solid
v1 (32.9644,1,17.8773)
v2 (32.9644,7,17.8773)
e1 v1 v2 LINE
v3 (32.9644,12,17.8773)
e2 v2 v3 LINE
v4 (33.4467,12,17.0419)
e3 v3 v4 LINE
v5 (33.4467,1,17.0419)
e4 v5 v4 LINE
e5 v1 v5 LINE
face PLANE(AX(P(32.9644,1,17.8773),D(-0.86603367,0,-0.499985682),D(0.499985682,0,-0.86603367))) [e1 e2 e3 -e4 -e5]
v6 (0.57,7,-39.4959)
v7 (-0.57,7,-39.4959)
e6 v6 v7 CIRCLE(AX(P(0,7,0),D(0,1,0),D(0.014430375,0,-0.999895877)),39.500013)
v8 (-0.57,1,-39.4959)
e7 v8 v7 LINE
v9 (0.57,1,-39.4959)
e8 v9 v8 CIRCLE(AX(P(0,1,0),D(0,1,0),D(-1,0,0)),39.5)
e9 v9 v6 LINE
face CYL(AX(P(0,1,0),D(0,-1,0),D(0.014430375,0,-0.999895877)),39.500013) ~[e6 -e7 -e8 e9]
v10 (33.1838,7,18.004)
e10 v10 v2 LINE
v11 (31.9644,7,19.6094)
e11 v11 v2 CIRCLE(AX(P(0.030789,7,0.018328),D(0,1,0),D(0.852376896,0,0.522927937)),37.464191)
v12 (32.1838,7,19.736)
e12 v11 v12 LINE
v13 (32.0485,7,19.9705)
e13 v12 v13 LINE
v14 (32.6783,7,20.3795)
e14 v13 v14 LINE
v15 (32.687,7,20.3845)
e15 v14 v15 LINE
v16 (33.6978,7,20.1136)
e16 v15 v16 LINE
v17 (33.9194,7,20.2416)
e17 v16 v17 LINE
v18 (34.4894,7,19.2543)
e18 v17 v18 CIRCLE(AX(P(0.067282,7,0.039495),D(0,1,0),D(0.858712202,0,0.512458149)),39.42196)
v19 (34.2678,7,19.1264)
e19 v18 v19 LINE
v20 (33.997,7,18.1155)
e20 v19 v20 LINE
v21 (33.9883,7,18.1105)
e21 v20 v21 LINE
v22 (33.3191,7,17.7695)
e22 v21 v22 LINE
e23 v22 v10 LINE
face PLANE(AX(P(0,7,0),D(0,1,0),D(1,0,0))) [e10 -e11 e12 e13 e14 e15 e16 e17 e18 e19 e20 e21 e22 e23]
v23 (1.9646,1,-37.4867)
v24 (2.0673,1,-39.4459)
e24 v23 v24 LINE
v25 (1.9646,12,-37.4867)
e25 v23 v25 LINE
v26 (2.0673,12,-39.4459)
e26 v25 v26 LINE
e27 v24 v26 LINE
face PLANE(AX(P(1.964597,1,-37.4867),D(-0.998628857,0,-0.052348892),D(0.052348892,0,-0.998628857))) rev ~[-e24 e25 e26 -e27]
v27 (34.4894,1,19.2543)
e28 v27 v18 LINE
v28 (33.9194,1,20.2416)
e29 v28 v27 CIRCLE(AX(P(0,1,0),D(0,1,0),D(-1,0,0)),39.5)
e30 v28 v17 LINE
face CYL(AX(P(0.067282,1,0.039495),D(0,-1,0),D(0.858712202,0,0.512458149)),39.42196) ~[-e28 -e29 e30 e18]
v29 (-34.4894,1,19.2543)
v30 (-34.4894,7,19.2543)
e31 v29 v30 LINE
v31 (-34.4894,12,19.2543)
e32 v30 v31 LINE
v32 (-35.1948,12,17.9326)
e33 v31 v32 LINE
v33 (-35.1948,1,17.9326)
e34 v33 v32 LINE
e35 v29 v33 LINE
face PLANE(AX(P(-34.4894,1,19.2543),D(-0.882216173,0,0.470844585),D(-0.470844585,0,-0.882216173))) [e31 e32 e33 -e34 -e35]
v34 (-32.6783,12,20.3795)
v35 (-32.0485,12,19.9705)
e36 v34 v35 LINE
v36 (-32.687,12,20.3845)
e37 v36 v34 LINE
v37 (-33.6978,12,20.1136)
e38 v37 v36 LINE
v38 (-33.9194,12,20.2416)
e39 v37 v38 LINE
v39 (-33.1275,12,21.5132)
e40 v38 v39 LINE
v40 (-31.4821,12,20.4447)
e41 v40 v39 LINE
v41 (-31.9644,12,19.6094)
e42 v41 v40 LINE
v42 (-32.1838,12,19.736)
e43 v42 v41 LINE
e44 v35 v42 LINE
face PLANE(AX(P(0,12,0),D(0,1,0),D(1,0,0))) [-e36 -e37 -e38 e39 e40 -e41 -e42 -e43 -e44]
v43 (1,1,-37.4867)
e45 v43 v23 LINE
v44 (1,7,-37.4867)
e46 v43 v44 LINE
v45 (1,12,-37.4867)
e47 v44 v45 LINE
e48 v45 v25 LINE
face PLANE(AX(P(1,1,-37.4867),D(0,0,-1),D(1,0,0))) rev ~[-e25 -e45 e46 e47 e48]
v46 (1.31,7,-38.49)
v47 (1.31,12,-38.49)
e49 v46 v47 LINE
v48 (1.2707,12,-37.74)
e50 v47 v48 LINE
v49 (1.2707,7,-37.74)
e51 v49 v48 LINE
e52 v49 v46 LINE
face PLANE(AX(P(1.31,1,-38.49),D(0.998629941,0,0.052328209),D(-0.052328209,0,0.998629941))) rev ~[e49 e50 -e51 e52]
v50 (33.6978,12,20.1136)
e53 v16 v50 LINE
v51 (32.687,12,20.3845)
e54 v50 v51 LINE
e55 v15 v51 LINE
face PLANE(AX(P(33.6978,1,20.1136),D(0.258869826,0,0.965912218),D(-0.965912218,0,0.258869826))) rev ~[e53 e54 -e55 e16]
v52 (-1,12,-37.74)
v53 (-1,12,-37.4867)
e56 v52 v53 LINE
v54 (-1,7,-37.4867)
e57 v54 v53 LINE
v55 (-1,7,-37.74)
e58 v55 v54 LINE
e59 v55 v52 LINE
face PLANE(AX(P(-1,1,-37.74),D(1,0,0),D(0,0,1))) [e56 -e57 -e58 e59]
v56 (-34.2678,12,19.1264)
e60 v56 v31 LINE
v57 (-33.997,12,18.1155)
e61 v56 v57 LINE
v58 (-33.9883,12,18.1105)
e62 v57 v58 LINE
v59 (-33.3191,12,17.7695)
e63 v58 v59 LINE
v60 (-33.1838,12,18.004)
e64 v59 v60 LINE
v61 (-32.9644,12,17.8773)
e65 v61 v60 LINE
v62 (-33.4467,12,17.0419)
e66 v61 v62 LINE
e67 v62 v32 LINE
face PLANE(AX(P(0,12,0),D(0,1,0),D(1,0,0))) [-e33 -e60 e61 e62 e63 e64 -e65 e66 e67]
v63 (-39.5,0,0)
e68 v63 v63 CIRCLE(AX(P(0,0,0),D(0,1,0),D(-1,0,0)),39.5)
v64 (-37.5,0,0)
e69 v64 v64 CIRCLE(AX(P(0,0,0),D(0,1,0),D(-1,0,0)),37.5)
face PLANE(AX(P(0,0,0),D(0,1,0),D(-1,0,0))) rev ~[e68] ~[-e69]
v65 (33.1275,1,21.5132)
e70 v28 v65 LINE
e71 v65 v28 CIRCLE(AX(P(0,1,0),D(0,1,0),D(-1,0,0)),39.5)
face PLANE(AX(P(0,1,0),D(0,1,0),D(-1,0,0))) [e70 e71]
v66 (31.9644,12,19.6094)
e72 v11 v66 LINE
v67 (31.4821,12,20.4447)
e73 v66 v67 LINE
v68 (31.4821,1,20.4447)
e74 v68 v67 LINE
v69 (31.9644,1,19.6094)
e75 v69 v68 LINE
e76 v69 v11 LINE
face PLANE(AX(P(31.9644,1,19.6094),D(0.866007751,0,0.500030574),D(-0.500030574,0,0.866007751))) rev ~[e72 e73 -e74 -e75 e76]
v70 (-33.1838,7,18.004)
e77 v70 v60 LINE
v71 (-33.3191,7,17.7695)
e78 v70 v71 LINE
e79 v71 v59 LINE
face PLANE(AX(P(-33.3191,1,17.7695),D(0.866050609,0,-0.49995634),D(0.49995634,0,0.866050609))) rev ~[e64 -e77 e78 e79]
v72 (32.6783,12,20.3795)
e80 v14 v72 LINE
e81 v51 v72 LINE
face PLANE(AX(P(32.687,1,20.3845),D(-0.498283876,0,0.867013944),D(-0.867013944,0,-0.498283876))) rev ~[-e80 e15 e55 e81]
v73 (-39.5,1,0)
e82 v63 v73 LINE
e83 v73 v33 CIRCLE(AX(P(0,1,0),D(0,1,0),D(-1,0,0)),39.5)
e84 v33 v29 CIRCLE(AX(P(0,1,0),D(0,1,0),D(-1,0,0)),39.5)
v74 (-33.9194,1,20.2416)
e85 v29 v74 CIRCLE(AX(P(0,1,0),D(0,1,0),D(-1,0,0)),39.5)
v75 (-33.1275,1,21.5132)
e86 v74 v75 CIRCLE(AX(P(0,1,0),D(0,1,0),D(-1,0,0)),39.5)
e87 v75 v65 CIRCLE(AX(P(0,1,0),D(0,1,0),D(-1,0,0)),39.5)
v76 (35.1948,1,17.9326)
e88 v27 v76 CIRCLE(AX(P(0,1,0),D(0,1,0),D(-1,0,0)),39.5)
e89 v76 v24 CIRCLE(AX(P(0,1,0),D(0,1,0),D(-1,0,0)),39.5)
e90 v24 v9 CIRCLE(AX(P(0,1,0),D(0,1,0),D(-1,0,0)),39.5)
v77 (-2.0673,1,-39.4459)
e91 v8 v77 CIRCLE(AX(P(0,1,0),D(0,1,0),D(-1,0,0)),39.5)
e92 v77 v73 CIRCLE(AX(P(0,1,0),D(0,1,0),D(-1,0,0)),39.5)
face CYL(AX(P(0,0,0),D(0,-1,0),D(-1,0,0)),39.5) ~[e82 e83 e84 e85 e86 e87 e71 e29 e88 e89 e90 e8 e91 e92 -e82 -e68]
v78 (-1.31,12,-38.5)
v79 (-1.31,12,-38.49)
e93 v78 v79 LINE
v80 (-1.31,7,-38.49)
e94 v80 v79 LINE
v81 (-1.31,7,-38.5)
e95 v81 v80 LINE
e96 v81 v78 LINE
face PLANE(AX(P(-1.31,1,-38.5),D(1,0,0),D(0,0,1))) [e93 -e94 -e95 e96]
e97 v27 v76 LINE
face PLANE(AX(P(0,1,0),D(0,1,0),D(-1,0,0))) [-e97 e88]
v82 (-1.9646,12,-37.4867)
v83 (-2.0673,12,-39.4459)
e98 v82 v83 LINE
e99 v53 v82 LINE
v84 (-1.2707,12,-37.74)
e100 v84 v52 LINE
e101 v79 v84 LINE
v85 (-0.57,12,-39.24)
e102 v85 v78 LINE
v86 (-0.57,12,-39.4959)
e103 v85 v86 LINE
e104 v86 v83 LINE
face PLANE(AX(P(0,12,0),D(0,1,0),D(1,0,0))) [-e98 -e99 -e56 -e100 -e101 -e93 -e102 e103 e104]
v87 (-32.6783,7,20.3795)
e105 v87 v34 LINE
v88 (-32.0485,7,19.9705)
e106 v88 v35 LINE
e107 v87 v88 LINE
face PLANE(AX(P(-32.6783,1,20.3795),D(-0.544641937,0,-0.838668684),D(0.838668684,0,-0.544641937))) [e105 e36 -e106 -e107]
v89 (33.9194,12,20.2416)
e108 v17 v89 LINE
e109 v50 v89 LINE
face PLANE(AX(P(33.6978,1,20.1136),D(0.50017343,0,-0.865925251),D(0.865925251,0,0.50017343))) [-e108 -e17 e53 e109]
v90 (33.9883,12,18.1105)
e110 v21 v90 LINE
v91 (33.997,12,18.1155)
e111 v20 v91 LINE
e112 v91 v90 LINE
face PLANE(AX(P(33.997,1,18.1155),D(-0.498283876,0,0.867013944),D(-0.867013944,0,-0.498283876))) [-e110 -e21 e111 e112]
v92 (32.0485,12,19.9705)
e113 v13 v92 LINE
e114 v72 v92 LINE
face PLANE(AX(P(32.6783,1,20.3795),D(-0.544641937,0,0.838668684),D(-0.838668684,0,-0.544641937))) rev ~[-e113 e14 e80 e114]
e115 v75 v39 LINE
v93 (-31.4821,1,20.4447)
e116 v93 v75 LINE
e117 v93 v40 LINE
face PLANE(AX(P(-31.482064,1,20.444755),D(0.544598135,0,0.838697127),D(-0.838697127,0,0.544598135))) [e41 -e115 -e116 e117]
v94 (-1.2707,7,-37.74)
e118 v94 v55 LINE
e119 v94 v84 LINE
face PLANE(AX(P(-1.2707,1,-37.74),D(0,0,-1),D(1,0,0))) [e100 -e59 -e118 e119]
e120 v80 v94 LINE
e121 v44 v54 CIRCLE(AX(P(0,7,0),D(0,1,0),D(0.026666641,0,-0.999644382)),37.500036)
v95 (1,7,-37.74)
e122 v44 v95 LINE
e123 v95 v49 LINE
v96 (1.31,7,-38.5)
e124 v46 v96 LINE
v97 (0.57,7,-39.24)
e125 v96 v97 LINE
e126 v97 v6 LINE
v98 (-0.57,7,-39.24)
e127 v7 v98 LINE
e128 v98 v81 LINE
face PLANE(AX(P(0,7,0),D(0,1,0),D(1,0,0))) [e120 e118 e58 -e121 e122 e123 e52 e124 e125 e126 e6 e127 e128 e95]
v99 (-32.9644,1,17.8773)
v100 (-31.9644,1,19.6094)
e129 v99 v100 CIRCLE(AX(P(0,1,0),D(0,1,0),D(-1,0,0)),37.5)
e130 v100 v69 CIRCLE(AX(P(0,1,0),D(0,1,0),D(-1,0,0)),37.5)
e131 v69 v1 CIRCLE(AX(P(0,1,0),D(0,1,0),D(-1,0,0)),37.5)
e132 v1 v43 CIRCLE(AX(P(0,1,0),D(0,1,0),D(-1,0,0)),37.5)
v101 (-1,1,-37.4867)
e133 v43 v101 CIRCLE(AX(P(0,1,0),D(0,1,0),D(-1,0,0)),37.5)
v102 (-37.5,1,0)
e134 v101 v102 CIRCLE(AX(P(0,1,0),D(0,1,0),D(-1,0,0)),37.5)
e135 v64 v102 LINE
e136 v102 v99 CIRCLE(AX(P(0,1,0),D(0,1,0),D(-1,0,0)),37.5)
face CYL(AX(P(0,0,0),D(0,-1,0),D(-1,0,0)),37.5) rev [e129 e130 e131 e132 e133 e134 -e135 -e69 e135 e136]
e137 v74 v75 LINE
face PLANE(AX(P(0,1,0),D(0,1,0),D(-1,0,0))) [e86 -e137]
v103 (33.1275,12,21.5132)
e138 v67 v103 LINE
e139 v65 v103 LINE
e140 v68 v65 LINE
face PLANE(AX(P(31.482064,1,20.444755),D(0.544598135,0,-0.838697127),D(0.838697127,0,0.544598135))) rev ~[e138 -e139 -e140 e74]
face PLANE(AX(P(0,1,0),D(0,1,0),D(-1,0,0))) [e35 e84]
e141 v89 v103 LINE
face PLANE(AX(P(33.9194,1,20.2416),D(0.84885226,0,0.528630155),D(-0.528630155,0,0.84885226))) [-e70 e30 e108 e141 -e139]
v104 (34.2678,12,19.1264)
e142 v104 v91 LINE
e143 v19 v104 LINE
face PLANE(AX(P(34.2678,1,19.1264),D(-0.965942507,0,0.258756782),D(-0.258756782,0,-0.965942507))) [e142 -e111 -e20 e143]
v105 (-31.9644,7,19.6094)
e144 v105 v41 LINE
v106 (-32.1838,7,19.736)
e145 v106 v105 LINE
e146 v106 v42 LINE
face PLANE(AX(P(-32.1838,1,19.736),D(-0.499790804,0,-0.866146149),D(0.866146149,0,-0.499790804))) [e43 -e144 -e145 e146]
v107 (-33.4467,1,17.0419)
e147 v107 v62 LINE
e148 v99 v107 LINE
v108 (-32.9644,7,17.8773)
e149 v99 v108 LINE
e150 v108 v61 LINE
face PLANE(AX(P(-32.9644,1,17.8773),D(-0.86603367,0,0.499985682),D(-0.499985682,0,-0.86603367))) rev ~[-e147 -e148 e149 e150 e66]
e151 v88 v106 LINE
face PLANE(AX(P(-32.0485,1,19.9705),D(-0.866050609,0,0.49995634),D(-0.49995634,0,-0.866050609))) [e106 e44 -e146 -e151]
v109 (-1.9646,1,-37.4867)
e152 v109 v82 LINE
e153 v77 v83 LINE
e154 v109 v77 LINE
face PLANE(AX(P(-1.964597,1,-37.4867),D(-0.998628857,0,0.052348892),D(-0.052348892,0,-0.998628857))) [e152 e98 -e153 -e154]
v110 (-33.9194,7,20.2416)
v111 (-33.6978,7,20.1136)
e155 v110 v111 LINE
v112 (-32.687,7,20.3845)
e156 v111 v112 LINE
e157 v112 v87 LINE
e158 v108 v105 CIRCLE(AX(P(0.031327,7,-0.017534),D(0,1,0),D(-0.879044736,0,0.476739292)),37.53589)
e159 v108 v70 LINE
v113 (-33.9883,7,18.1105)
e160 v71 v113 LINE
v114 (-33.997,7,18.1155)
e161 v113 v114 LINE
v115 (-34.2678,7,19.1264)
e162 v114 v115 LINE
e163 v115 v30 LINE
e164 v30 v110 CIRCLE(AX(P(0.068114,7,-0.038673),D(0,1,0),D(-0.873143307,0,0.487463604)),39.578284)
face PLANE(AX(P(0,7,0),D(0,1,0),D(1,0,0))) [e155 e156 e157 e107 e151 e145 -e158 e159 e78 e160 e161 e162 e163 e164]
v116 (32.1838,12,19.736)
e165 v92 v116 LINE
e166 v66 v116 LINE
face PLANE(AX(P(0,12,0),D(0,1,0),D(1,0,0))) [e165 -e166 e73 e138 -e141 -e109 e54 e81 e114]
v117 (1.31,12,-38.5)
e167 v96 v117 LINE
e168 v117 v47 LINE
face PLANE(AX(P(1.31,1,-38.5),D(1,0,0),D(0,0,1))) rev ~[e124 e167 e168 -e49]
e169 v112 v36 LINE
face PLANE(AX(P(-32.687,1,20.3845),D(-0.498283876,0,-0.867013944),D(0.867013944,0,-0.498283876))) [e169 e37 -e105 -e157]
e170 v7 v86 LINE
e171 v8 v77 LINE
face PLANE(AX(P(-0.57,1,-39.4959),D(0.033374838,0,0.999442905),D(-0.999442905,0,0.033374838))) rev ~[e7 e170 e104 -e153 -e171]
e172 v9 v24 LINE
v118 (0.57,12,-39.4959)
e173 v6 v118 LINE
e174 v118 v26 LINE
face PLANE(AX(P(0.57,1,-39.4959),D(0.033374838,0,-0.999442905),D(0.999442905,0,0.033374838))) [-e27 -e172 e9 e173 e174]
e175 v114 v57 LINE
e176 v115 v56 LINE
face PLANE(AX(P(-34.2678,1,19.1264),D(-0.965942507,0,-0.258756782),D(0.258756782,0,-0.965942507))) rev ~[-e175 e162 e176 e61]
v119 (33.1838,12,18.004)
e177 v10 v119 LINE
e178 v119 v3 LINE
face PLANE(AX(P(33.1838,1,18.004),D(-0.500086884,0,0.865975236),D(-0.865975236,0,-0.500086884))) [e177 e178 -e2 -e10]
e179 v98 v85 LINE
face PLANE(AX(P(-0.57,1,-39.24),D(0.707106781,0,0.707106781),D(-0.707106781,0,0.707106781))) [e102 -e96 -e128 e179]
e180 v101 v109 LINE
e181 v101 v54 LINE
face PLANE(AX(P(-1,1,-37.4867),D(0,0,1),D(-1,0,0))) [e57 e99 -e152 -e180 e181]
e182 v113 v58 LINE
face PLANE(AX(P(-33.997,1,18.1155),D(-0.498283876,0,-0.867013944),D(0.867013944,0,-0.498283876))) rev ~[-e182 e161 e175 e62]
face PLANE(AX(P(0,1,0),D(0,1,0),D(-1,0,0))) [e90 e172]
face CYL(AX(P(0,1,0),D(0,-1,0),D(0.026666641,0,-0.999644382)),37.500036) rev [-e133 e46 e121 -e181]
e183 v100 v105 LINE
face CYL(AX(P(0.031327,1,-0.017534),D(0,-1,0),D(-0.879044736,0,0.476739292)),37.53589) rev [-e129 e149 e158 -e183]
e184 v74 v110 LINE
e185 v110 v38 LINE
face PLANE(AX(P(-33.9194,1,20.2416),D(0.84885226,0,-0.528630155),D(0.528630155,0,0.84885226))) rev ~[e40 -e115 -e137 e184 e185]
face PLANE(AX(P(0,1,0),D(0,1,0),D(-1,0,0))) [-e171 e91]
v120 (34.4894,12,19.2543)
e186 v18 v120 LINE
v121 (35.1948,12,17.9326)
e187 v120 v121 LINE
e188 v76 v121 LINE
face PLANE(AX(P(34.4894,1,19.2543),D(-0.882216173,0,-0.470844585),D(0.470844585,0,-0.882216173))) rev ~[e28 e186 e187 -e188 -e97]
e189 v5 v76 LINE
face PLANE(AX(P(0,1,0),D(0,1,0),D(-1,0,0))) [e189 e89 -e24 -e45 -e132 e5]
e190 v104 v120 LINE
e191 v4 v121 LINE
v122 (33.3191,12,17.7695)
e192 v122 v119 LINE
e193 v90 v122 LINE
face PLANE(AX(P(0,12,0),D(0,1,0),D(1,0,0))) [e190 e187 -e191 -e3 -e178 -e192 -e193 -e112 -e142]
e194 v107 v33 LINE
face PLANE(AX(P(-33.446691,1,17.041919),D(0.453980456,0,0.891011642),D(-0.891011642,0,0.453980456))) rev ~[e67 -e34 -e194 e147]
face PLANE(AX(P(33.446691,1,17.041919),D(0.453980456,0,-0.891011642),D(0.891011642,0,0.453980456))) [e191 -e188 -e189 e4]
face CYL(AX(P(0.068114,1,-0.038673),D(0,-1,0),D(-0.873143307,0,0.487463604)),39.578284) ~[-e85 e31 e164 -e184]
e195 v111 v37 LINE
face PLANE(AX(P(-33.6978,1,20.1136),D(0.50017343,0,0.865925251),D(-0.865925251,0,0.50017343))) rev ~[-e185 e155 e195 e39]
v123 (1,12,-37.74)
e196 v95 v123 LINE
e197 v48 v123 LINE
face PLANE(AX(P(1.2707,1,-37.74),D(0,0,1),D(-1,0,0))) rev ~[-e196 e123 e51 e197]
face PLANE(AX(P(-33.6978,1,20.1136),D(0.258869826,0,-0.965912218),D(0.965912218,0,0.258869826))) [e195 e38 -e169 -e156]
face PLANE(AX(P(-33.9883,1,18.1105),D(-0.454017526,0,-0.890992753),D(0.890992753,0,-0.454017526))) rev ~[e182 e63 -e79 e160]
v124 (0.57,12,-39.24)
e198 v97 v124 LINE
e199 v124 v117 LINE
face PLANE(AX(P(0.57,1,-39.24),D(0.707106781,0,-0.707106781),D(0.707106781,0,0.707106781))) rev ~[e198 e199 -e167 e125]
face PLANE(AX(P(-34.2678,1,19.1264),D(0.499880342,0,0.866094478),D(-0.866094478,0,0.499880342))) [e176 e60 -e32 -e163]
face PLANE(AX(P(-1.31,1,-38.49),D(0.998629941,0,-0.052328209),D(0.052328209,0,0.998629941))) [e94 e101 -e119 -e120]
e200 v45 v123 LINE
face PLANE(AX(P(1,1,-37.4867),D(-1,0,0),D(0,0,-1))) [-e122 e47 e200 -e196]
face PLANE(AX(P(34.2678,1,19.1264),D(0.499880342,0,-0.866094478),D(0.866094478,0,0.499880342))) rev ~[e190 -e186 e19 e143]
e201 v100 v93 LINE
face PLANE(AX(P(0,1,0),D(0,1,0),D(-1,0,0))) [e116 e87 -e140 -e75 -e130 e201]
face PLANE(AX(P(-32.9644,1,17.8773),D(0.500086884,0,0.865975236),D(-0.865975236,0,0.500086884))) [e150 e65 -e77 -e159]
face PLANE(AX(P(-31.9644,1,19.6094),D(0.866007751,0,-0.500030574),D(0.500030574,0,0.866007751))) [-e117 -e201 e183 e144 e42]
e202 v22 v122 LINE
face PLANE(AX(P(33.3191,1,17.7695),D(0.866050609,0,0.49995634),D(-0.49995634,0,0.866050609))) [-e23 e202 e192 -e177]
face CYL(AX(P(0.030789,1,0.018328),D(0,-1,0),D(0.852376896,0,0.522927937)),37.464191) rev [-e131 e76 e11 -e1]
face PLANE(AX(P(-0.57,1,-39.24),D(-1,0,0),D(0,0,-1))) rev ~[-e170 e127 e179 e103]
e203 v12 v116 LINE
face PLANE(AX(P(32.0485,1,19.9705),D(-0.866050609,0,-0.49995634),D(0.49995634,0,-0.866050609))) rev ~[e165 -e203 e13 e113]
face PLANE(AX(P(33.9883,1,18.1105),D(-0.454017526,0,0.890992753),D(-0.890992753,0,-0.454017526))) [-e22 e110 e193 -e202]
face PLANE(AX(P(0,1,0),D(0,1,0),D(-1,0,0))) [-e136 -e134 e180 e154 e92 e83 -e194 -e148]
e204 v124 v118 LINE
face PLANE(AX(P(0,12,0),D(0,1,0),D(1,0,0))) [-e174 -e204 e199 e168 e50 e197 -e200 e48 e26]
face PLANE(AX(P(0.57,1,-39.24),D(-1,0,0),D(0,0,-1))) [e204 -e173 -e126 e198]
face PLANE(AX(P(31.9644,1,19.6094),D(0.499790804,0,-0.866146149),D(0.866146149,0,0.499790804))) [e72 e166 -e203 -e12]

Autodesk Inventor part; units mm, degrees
ref_plane "YZ Plane" through (0, 0, 0) normal (1, 0, 0) x (0, 1, 0)
ref_plane "XZ Plane" through (0, 0, 0) normal (0, 1, 0) x (-1, 0, 0)
ref_plane "XY Plane" through (0, 0, 0) normal (0, 0, 1) x (1, 0, 0)
sketch "Sketch1" plane through (0, 0, 0) normal (0, 1, 0) x (-1, 0, 0)
  circle A0 centre (0, 0) radius 39.5
  circle A1 centre (0, 0) radius 37.5
  dimension "d0" = 79
  dimension "d1" = 75
extrude "Extrusion1" add sketch "Sketch1" along normal blind 1
sketch "Sketch2" plane through (0, 1, 0) normal (0, 1, 0) x (1, 0, 0)
  circle A0 centre (0, 0) radius 37.5 projected
  circle A1 centre (0, 0) radius 39.5 projected
  line L0 (0, 39.5) -> (0, 37.5) construction
  line L1 (-0.57, 39.24) -> (0, 39.24)
  line L2 (-1.31, 38.5) -> (-1.31, 38.5)
  line L3 (-1.31, 38.5) -> (-1.31, 38.49)
  line L4 (-1.2707, 37.74) -> (0, 37.74)
  line L5 (-0.57, 39.24) -> (-1.31, 38.5)
  line L6 (-1.31, 38.49) -> (-1.2707, 37.74)
  line L7 (0, 0) -> (2.0673, 39.4459) construction
  line L8 (0, 0) -> (-2.0673, 39.4459) construction
  line L9 (1.9626, 37.4486) -> (2.0673, 39.4459)
  line L10 (-1.9626, 37.4486) -> (-2.0673, 39.4459)
  line L11 (-1, 37.74) -> (-1, 37.4867)
  line L12 (0.57, 39.24) -> (0, 39.24)
  line L13 (1.31, 38.5) -> (1.31, 38.5)
  line L14 (1.31, 38.5) -> (1.31, 38.49)
  line L15 (1.2707, 37.74) -> (0, 37.74)
  line L16 (0.57, 39.24) -> (1.31, 38.5)
  line L17 (1.31, 38.49) -> (1.2707, 37.74)
  line L18 (-0.57, 39.24) -> (-0.57, 39.4959)
  line L19 (-0.57, 39.4959) -> (-2.0673, 39.4459)
  line L20 (-1, 37.4867) -> (-1.9646, 37.4867)
  line L21 (0.57, 39.24) -> (0.57, 39.4959)
  line L22 (0.57, 39.4959) -> (2.0673, 39.4459)
  line L23 (1, 37.4867) -> (1, 37.74)
  line L24 (1, 37.4867) -> (1.9646, 37.4867)
  line L25 (-33.6978, -20.1136) -> (-33.9828, -19.62)
  line L26 (-32.687, -20.3845) -> (-32.6783, -20.3795)
  line L27 (-32.0485, -19.9705) -> (-32.6838, -18.87)
  line L28 (-33.6978, -20.1136) -> (-32.687, -20.3845)
  line L29 (-32.6783, -20.3795) -> (-32.0485, -19.9705)
  line L30 (0, 0) -> (-33.1275, -21.5132) construction
  line L31 (-33.4127, -17.0246) -> (-35.1948, -17.9326)
  line L32 (-31.4501, -20.424) -> (-33.1275, -21.5132)
  line L33 (-32.1838, -19.736) -> (-31.9644, -19.6094)
  line L34 (-33.9883, -18.1105) -> (-33.3191, -17.7695)
  line L35 (-33.3191, -17.7695) -> (-32.6838, -18.87)
  line L36 (-34.2678, -19.1264) -> (-33.997, -18.1155)
  line L37 (-34.2678, -19.1264) -> (-33.9828, -19.62)
  line L38 (-33.997, -18.1155) -> (-33.9883, -18.1105)
  line L39 (-33.6978, -20.1136) -> (-33.9194, -20.2416)
  line L40 (-33.9194, -20.2416) -> (-33.1275, -21.5132)
  line L41 (-31.9644, -19.6094) -> (-31.4821, -20.4447)
  line L42 (-34.2678, -19.1264) -> (-34.4894, -19.2543)
  line L43 (-34.4894, -19.2543) -> (-35.1948, -17.9326)
  line L44 (-32.9644, -17.8773) -> (-33.1838, -18.004)
  line L45 (-32.9644, -17.8773) -> (-33.4467, -17.0419)
  line L46 (34.2678, -19.1264) -> (33.9828, -19.62)
  line L47 (33.997, -18.1155) -> (33.9883, -18.1105)
  line L48 (33.3191, -17.7695) -> (32.6838, -18.87)
  line L49 (34.2678, -19.1264) -> (33.997, -18.1155)
  line L50 (33.9883, -18.1105) -> (33.3191, -17.7695)
  line L51 (0, 0) -> (35.1948, -17.9326) construction
  line L52 (31.4501, -20.424) -> (33.1275, -21.5132)
  line L53 (33.4127, -17.0246) -> (35.1948, -17.9326)
  line L54 (33.1838, -18.004) -> (32.9644, -17.8773)
  line L55 (32.6783, -20.3795) -> (32.0485, -19.9705)
  line L56 (32.0485, -19.9705) -> (32.6838, -18.87)
  line L57 (33.6978, -20.1136) -> (32.687, -20.3845)
  line L58 (33.6978, -20.1136) -> (33.9828, -19.62)
  line L59 (32.687, -20.3845) -> (32.6783, -20.3795)
  line L60 (34.2678, -19.1264) -> (34.4894, -19.2543)
  line L61 (34.4894, -19.2543) -> (35.1948, -17.9326)
  line L62 (32.9644, -17.8773) -> (33.4467, -17.0419)
  line L63 (33.6978, -20.1136) -> (33.9194, -20.2416)
  line L64 (33.9194, -20.2416) -> (33.1275, -21.5132)
  line L65 (31.9644, -19.6094) -> (32.1838, -19.736)
  line L66 (31.9644, -19.6094) -> (31.4821, -20.4447)
  line L67 (-33.1838, -18.004) -> (-33.3191, -17.7695)
  line L68 (-33.3191, -17.7695) -> (-33.9883, -18.1105)
  line L69 (-33.997, -18.1155) -> (-33.9883, -18.1105)
  line L70 (-34.2678, -19.1264) -> (-33.997, -18.1155)
  line L71 (-33.6978, -20.1136) -> (-32.687, -20.3845)
  line L72 (-32.0485, -19.9705) -> (-32.6783, -20.3795)
  line L73 (-32.0485, -19.9705) -> (-32.1838, -19.736)
  line L74 (34.2678, -19.1264) -> (33.997, -18.1155)
  line L75 (33.1838, -18.004) -> (33.3191, -17.7695)
  line L76 (33.6978, -20.1136) -> (32.687, -20.3845)
  point P0 (-1.31, 39.24)
  point P1 (-1.31, 37.74)
  point P2 (0, 38.5)
  point P3 (1.31, 37.74)
  point P4 (-33.3278, -20.7545)
  point P5 (-32.0288, -20.0045)
  point P6 (-33.3388, -17.7355)
  point P7 (34.6378, -18.4855)
  point P8 (33.3388, -17.7355)
  point P9 (32.0288, -20.0045)
  dimension "d4" = 1.31
  dimension "d5" = 0.74
  dimension "d6" = 0.76
  dimension "d7" = 0.74
  dimension "d8" = 45
  dimension "d9" = 0.75
  dimension "d10" = 3
  dimension "d11" = 3
  dimension "d12" = 1
  dimension "d15" = 360
extrude "Extrusion2" add sketch "Sketch2" along normal blind 11 contours L23 L15 L17 L14 L16 L21 L22 L9 L24 | L62 L53 L61 L60 L49 L47 L50 L48 L54 | L20 L10 L19 L18 L5 L3 L6 L4 L11 | L65 L56 L55 L59 L57 L63 L64 L52 L66 | L44 L35 L34 L38 L36 L42 L43 L31 L45 | L41 L32 L40 L39 L28 L26 L29 L27 L33
sketch "Sketch3" plane through (0, 1, 0) normal (0, 1, 0) x (1, 0, 0)
  line L0 (33.1838, -18.004) -> (32.9644, -17.8773) projected
  arc A0 (31.9644, -19.6094) -> (32.9644, -17.8773) centre (0, 0) ccw projected
  line L1 (31.9644, -19.6094) -> (32.1838, -19.736) projected
  line L2 (32.1838, -19.736) -> (32.0485, -19.9705) projected
  line L3 (32.0485, -19.9705) -> (32.6783, -20.3795) projected
  line L4 (32.6783, -20.3795) -> (32.687, -20.3845) projected
  line L5 (32.687, -20.3845) -> (33.6978, -20.1136) projected
  line L6 (33.6978, -20.1136) -> (33.9194, -20.2416) projected
  arc A1 (33.9194, -20.2416) -> (34.4894, -19.2543) centre (0, 0) ccw projected
  line L7 (34.4894, -19.2543) -> (34.2678, -19.1264) projected
  line L8 (34.2678, -19.1264) -> (33.997, -18.1155) projected
  line L9 (33.997, -18.1155) -> (33.9883, -18.1105) projected
  line L10 (33.9883, -18.1105) -> (33.3191, -17.7695) projected
  line L11 (33.3191, -17.7695) -> (33.1838, -18.004) projected
extrude "Extrusion3" add sketch "Sketch3" along normal blind 6
sketch "Sketch4" plane through (0, 1, 0) normal (0, 1, 0) x (1, 0, 0)
  line L0 (-32.1838, -19.736) -> (-31.9644, -19.6094) projected
  arc A0 (-32.9644, -17.8773) -> (-31.9644, -19.6094) centre (0, 0) ccw projected
  line L1 (-32.9644, -17.8773) -> (-33.1838, -18.004) projected
  line L2 (-33.1838, -18.004) -> (-33.3191, -17.7695) projected
  line L3 (-33.3191, -17.7695) -> (-33.9883, -18.1105) projected
  line L4 (-33.9883, -18.1105) -> (-33.997, -18.1155) projected
  line L5 (-33.997, -18.1155) -> (-34.2678, -19.1264) projected
  line L6 (-34.2678, -19.1264) -> (-34.4894, -19.2543) projected
  arc A1 (-34.4894, -19.2543) -> (-33.9194, -20.2416) centre (0, 0) ccw projected
  line L7 (-33.9194, -20.2416) -> (-33.6978, -20.1136) projected
  line L8 (-33.6978, -20.1136) -> (-32.687, -20.3845) projected
  line L9 (-32.687, -20.3845) -> (-32.6783, -20.3795) projected
  line L10 (-32.6783, -20.3795) -> (-32.0485, -19.9705) projected
  line L11 (-32.0485, -19.9705) -> (-32.1838, -19.736) projected
extrude "Extrusion4" add sketch "Sketch4" along normal blind 6
sketch "Sketch5" plane through (0, 1, 0) normal (0, 1, 0) x (1, 0, 0)
  line L0 (-0.57, 39.4959) -> (-0.57, 39.24) projected
  line L1 (-0.57, 39.24) -> (-1.31, 38.5) projected
  line L2 (-1.31, 38.5) -> (-1.31, 38.49) projected
  line L3 (-1.31, 38.49) -> (-1.2707, 37.74) projected
  line L4 (-1.2707, 37.74) -> (-1, 37.74) projected
  line L5 (-1, 37.74) -> (-1, 37.4867) projected
  arc A0 (1, 37.4867) -> (-1, 37.4867) centre (0, 0) ccw projected
  line L6 (1, 37.4867) -> (1, 37.74) projected
  line L7 (1, 37.74) -> (1.2707, 37.74) projected
  line L8 (1.2707, 37.74) -> (1.31, 38.49) projected
  line L9 (1.31, 38.49) -> (1.31, 38.5) projected
  line L10 (1.31, 38.5) -> (0.57, 39.24) projected
  line L11 (0.57, 39.24) -> (0.57, 39.4959) projected
  arc A1 (0.57, 39.4959) -> (-0.57, 39.4959) centre (0, 0) ccw projected
extrude "Extrusion5" add sketch "Sketch5" along normal blind 6
properties part number "Hallhouder" material "ABS Plastic"
